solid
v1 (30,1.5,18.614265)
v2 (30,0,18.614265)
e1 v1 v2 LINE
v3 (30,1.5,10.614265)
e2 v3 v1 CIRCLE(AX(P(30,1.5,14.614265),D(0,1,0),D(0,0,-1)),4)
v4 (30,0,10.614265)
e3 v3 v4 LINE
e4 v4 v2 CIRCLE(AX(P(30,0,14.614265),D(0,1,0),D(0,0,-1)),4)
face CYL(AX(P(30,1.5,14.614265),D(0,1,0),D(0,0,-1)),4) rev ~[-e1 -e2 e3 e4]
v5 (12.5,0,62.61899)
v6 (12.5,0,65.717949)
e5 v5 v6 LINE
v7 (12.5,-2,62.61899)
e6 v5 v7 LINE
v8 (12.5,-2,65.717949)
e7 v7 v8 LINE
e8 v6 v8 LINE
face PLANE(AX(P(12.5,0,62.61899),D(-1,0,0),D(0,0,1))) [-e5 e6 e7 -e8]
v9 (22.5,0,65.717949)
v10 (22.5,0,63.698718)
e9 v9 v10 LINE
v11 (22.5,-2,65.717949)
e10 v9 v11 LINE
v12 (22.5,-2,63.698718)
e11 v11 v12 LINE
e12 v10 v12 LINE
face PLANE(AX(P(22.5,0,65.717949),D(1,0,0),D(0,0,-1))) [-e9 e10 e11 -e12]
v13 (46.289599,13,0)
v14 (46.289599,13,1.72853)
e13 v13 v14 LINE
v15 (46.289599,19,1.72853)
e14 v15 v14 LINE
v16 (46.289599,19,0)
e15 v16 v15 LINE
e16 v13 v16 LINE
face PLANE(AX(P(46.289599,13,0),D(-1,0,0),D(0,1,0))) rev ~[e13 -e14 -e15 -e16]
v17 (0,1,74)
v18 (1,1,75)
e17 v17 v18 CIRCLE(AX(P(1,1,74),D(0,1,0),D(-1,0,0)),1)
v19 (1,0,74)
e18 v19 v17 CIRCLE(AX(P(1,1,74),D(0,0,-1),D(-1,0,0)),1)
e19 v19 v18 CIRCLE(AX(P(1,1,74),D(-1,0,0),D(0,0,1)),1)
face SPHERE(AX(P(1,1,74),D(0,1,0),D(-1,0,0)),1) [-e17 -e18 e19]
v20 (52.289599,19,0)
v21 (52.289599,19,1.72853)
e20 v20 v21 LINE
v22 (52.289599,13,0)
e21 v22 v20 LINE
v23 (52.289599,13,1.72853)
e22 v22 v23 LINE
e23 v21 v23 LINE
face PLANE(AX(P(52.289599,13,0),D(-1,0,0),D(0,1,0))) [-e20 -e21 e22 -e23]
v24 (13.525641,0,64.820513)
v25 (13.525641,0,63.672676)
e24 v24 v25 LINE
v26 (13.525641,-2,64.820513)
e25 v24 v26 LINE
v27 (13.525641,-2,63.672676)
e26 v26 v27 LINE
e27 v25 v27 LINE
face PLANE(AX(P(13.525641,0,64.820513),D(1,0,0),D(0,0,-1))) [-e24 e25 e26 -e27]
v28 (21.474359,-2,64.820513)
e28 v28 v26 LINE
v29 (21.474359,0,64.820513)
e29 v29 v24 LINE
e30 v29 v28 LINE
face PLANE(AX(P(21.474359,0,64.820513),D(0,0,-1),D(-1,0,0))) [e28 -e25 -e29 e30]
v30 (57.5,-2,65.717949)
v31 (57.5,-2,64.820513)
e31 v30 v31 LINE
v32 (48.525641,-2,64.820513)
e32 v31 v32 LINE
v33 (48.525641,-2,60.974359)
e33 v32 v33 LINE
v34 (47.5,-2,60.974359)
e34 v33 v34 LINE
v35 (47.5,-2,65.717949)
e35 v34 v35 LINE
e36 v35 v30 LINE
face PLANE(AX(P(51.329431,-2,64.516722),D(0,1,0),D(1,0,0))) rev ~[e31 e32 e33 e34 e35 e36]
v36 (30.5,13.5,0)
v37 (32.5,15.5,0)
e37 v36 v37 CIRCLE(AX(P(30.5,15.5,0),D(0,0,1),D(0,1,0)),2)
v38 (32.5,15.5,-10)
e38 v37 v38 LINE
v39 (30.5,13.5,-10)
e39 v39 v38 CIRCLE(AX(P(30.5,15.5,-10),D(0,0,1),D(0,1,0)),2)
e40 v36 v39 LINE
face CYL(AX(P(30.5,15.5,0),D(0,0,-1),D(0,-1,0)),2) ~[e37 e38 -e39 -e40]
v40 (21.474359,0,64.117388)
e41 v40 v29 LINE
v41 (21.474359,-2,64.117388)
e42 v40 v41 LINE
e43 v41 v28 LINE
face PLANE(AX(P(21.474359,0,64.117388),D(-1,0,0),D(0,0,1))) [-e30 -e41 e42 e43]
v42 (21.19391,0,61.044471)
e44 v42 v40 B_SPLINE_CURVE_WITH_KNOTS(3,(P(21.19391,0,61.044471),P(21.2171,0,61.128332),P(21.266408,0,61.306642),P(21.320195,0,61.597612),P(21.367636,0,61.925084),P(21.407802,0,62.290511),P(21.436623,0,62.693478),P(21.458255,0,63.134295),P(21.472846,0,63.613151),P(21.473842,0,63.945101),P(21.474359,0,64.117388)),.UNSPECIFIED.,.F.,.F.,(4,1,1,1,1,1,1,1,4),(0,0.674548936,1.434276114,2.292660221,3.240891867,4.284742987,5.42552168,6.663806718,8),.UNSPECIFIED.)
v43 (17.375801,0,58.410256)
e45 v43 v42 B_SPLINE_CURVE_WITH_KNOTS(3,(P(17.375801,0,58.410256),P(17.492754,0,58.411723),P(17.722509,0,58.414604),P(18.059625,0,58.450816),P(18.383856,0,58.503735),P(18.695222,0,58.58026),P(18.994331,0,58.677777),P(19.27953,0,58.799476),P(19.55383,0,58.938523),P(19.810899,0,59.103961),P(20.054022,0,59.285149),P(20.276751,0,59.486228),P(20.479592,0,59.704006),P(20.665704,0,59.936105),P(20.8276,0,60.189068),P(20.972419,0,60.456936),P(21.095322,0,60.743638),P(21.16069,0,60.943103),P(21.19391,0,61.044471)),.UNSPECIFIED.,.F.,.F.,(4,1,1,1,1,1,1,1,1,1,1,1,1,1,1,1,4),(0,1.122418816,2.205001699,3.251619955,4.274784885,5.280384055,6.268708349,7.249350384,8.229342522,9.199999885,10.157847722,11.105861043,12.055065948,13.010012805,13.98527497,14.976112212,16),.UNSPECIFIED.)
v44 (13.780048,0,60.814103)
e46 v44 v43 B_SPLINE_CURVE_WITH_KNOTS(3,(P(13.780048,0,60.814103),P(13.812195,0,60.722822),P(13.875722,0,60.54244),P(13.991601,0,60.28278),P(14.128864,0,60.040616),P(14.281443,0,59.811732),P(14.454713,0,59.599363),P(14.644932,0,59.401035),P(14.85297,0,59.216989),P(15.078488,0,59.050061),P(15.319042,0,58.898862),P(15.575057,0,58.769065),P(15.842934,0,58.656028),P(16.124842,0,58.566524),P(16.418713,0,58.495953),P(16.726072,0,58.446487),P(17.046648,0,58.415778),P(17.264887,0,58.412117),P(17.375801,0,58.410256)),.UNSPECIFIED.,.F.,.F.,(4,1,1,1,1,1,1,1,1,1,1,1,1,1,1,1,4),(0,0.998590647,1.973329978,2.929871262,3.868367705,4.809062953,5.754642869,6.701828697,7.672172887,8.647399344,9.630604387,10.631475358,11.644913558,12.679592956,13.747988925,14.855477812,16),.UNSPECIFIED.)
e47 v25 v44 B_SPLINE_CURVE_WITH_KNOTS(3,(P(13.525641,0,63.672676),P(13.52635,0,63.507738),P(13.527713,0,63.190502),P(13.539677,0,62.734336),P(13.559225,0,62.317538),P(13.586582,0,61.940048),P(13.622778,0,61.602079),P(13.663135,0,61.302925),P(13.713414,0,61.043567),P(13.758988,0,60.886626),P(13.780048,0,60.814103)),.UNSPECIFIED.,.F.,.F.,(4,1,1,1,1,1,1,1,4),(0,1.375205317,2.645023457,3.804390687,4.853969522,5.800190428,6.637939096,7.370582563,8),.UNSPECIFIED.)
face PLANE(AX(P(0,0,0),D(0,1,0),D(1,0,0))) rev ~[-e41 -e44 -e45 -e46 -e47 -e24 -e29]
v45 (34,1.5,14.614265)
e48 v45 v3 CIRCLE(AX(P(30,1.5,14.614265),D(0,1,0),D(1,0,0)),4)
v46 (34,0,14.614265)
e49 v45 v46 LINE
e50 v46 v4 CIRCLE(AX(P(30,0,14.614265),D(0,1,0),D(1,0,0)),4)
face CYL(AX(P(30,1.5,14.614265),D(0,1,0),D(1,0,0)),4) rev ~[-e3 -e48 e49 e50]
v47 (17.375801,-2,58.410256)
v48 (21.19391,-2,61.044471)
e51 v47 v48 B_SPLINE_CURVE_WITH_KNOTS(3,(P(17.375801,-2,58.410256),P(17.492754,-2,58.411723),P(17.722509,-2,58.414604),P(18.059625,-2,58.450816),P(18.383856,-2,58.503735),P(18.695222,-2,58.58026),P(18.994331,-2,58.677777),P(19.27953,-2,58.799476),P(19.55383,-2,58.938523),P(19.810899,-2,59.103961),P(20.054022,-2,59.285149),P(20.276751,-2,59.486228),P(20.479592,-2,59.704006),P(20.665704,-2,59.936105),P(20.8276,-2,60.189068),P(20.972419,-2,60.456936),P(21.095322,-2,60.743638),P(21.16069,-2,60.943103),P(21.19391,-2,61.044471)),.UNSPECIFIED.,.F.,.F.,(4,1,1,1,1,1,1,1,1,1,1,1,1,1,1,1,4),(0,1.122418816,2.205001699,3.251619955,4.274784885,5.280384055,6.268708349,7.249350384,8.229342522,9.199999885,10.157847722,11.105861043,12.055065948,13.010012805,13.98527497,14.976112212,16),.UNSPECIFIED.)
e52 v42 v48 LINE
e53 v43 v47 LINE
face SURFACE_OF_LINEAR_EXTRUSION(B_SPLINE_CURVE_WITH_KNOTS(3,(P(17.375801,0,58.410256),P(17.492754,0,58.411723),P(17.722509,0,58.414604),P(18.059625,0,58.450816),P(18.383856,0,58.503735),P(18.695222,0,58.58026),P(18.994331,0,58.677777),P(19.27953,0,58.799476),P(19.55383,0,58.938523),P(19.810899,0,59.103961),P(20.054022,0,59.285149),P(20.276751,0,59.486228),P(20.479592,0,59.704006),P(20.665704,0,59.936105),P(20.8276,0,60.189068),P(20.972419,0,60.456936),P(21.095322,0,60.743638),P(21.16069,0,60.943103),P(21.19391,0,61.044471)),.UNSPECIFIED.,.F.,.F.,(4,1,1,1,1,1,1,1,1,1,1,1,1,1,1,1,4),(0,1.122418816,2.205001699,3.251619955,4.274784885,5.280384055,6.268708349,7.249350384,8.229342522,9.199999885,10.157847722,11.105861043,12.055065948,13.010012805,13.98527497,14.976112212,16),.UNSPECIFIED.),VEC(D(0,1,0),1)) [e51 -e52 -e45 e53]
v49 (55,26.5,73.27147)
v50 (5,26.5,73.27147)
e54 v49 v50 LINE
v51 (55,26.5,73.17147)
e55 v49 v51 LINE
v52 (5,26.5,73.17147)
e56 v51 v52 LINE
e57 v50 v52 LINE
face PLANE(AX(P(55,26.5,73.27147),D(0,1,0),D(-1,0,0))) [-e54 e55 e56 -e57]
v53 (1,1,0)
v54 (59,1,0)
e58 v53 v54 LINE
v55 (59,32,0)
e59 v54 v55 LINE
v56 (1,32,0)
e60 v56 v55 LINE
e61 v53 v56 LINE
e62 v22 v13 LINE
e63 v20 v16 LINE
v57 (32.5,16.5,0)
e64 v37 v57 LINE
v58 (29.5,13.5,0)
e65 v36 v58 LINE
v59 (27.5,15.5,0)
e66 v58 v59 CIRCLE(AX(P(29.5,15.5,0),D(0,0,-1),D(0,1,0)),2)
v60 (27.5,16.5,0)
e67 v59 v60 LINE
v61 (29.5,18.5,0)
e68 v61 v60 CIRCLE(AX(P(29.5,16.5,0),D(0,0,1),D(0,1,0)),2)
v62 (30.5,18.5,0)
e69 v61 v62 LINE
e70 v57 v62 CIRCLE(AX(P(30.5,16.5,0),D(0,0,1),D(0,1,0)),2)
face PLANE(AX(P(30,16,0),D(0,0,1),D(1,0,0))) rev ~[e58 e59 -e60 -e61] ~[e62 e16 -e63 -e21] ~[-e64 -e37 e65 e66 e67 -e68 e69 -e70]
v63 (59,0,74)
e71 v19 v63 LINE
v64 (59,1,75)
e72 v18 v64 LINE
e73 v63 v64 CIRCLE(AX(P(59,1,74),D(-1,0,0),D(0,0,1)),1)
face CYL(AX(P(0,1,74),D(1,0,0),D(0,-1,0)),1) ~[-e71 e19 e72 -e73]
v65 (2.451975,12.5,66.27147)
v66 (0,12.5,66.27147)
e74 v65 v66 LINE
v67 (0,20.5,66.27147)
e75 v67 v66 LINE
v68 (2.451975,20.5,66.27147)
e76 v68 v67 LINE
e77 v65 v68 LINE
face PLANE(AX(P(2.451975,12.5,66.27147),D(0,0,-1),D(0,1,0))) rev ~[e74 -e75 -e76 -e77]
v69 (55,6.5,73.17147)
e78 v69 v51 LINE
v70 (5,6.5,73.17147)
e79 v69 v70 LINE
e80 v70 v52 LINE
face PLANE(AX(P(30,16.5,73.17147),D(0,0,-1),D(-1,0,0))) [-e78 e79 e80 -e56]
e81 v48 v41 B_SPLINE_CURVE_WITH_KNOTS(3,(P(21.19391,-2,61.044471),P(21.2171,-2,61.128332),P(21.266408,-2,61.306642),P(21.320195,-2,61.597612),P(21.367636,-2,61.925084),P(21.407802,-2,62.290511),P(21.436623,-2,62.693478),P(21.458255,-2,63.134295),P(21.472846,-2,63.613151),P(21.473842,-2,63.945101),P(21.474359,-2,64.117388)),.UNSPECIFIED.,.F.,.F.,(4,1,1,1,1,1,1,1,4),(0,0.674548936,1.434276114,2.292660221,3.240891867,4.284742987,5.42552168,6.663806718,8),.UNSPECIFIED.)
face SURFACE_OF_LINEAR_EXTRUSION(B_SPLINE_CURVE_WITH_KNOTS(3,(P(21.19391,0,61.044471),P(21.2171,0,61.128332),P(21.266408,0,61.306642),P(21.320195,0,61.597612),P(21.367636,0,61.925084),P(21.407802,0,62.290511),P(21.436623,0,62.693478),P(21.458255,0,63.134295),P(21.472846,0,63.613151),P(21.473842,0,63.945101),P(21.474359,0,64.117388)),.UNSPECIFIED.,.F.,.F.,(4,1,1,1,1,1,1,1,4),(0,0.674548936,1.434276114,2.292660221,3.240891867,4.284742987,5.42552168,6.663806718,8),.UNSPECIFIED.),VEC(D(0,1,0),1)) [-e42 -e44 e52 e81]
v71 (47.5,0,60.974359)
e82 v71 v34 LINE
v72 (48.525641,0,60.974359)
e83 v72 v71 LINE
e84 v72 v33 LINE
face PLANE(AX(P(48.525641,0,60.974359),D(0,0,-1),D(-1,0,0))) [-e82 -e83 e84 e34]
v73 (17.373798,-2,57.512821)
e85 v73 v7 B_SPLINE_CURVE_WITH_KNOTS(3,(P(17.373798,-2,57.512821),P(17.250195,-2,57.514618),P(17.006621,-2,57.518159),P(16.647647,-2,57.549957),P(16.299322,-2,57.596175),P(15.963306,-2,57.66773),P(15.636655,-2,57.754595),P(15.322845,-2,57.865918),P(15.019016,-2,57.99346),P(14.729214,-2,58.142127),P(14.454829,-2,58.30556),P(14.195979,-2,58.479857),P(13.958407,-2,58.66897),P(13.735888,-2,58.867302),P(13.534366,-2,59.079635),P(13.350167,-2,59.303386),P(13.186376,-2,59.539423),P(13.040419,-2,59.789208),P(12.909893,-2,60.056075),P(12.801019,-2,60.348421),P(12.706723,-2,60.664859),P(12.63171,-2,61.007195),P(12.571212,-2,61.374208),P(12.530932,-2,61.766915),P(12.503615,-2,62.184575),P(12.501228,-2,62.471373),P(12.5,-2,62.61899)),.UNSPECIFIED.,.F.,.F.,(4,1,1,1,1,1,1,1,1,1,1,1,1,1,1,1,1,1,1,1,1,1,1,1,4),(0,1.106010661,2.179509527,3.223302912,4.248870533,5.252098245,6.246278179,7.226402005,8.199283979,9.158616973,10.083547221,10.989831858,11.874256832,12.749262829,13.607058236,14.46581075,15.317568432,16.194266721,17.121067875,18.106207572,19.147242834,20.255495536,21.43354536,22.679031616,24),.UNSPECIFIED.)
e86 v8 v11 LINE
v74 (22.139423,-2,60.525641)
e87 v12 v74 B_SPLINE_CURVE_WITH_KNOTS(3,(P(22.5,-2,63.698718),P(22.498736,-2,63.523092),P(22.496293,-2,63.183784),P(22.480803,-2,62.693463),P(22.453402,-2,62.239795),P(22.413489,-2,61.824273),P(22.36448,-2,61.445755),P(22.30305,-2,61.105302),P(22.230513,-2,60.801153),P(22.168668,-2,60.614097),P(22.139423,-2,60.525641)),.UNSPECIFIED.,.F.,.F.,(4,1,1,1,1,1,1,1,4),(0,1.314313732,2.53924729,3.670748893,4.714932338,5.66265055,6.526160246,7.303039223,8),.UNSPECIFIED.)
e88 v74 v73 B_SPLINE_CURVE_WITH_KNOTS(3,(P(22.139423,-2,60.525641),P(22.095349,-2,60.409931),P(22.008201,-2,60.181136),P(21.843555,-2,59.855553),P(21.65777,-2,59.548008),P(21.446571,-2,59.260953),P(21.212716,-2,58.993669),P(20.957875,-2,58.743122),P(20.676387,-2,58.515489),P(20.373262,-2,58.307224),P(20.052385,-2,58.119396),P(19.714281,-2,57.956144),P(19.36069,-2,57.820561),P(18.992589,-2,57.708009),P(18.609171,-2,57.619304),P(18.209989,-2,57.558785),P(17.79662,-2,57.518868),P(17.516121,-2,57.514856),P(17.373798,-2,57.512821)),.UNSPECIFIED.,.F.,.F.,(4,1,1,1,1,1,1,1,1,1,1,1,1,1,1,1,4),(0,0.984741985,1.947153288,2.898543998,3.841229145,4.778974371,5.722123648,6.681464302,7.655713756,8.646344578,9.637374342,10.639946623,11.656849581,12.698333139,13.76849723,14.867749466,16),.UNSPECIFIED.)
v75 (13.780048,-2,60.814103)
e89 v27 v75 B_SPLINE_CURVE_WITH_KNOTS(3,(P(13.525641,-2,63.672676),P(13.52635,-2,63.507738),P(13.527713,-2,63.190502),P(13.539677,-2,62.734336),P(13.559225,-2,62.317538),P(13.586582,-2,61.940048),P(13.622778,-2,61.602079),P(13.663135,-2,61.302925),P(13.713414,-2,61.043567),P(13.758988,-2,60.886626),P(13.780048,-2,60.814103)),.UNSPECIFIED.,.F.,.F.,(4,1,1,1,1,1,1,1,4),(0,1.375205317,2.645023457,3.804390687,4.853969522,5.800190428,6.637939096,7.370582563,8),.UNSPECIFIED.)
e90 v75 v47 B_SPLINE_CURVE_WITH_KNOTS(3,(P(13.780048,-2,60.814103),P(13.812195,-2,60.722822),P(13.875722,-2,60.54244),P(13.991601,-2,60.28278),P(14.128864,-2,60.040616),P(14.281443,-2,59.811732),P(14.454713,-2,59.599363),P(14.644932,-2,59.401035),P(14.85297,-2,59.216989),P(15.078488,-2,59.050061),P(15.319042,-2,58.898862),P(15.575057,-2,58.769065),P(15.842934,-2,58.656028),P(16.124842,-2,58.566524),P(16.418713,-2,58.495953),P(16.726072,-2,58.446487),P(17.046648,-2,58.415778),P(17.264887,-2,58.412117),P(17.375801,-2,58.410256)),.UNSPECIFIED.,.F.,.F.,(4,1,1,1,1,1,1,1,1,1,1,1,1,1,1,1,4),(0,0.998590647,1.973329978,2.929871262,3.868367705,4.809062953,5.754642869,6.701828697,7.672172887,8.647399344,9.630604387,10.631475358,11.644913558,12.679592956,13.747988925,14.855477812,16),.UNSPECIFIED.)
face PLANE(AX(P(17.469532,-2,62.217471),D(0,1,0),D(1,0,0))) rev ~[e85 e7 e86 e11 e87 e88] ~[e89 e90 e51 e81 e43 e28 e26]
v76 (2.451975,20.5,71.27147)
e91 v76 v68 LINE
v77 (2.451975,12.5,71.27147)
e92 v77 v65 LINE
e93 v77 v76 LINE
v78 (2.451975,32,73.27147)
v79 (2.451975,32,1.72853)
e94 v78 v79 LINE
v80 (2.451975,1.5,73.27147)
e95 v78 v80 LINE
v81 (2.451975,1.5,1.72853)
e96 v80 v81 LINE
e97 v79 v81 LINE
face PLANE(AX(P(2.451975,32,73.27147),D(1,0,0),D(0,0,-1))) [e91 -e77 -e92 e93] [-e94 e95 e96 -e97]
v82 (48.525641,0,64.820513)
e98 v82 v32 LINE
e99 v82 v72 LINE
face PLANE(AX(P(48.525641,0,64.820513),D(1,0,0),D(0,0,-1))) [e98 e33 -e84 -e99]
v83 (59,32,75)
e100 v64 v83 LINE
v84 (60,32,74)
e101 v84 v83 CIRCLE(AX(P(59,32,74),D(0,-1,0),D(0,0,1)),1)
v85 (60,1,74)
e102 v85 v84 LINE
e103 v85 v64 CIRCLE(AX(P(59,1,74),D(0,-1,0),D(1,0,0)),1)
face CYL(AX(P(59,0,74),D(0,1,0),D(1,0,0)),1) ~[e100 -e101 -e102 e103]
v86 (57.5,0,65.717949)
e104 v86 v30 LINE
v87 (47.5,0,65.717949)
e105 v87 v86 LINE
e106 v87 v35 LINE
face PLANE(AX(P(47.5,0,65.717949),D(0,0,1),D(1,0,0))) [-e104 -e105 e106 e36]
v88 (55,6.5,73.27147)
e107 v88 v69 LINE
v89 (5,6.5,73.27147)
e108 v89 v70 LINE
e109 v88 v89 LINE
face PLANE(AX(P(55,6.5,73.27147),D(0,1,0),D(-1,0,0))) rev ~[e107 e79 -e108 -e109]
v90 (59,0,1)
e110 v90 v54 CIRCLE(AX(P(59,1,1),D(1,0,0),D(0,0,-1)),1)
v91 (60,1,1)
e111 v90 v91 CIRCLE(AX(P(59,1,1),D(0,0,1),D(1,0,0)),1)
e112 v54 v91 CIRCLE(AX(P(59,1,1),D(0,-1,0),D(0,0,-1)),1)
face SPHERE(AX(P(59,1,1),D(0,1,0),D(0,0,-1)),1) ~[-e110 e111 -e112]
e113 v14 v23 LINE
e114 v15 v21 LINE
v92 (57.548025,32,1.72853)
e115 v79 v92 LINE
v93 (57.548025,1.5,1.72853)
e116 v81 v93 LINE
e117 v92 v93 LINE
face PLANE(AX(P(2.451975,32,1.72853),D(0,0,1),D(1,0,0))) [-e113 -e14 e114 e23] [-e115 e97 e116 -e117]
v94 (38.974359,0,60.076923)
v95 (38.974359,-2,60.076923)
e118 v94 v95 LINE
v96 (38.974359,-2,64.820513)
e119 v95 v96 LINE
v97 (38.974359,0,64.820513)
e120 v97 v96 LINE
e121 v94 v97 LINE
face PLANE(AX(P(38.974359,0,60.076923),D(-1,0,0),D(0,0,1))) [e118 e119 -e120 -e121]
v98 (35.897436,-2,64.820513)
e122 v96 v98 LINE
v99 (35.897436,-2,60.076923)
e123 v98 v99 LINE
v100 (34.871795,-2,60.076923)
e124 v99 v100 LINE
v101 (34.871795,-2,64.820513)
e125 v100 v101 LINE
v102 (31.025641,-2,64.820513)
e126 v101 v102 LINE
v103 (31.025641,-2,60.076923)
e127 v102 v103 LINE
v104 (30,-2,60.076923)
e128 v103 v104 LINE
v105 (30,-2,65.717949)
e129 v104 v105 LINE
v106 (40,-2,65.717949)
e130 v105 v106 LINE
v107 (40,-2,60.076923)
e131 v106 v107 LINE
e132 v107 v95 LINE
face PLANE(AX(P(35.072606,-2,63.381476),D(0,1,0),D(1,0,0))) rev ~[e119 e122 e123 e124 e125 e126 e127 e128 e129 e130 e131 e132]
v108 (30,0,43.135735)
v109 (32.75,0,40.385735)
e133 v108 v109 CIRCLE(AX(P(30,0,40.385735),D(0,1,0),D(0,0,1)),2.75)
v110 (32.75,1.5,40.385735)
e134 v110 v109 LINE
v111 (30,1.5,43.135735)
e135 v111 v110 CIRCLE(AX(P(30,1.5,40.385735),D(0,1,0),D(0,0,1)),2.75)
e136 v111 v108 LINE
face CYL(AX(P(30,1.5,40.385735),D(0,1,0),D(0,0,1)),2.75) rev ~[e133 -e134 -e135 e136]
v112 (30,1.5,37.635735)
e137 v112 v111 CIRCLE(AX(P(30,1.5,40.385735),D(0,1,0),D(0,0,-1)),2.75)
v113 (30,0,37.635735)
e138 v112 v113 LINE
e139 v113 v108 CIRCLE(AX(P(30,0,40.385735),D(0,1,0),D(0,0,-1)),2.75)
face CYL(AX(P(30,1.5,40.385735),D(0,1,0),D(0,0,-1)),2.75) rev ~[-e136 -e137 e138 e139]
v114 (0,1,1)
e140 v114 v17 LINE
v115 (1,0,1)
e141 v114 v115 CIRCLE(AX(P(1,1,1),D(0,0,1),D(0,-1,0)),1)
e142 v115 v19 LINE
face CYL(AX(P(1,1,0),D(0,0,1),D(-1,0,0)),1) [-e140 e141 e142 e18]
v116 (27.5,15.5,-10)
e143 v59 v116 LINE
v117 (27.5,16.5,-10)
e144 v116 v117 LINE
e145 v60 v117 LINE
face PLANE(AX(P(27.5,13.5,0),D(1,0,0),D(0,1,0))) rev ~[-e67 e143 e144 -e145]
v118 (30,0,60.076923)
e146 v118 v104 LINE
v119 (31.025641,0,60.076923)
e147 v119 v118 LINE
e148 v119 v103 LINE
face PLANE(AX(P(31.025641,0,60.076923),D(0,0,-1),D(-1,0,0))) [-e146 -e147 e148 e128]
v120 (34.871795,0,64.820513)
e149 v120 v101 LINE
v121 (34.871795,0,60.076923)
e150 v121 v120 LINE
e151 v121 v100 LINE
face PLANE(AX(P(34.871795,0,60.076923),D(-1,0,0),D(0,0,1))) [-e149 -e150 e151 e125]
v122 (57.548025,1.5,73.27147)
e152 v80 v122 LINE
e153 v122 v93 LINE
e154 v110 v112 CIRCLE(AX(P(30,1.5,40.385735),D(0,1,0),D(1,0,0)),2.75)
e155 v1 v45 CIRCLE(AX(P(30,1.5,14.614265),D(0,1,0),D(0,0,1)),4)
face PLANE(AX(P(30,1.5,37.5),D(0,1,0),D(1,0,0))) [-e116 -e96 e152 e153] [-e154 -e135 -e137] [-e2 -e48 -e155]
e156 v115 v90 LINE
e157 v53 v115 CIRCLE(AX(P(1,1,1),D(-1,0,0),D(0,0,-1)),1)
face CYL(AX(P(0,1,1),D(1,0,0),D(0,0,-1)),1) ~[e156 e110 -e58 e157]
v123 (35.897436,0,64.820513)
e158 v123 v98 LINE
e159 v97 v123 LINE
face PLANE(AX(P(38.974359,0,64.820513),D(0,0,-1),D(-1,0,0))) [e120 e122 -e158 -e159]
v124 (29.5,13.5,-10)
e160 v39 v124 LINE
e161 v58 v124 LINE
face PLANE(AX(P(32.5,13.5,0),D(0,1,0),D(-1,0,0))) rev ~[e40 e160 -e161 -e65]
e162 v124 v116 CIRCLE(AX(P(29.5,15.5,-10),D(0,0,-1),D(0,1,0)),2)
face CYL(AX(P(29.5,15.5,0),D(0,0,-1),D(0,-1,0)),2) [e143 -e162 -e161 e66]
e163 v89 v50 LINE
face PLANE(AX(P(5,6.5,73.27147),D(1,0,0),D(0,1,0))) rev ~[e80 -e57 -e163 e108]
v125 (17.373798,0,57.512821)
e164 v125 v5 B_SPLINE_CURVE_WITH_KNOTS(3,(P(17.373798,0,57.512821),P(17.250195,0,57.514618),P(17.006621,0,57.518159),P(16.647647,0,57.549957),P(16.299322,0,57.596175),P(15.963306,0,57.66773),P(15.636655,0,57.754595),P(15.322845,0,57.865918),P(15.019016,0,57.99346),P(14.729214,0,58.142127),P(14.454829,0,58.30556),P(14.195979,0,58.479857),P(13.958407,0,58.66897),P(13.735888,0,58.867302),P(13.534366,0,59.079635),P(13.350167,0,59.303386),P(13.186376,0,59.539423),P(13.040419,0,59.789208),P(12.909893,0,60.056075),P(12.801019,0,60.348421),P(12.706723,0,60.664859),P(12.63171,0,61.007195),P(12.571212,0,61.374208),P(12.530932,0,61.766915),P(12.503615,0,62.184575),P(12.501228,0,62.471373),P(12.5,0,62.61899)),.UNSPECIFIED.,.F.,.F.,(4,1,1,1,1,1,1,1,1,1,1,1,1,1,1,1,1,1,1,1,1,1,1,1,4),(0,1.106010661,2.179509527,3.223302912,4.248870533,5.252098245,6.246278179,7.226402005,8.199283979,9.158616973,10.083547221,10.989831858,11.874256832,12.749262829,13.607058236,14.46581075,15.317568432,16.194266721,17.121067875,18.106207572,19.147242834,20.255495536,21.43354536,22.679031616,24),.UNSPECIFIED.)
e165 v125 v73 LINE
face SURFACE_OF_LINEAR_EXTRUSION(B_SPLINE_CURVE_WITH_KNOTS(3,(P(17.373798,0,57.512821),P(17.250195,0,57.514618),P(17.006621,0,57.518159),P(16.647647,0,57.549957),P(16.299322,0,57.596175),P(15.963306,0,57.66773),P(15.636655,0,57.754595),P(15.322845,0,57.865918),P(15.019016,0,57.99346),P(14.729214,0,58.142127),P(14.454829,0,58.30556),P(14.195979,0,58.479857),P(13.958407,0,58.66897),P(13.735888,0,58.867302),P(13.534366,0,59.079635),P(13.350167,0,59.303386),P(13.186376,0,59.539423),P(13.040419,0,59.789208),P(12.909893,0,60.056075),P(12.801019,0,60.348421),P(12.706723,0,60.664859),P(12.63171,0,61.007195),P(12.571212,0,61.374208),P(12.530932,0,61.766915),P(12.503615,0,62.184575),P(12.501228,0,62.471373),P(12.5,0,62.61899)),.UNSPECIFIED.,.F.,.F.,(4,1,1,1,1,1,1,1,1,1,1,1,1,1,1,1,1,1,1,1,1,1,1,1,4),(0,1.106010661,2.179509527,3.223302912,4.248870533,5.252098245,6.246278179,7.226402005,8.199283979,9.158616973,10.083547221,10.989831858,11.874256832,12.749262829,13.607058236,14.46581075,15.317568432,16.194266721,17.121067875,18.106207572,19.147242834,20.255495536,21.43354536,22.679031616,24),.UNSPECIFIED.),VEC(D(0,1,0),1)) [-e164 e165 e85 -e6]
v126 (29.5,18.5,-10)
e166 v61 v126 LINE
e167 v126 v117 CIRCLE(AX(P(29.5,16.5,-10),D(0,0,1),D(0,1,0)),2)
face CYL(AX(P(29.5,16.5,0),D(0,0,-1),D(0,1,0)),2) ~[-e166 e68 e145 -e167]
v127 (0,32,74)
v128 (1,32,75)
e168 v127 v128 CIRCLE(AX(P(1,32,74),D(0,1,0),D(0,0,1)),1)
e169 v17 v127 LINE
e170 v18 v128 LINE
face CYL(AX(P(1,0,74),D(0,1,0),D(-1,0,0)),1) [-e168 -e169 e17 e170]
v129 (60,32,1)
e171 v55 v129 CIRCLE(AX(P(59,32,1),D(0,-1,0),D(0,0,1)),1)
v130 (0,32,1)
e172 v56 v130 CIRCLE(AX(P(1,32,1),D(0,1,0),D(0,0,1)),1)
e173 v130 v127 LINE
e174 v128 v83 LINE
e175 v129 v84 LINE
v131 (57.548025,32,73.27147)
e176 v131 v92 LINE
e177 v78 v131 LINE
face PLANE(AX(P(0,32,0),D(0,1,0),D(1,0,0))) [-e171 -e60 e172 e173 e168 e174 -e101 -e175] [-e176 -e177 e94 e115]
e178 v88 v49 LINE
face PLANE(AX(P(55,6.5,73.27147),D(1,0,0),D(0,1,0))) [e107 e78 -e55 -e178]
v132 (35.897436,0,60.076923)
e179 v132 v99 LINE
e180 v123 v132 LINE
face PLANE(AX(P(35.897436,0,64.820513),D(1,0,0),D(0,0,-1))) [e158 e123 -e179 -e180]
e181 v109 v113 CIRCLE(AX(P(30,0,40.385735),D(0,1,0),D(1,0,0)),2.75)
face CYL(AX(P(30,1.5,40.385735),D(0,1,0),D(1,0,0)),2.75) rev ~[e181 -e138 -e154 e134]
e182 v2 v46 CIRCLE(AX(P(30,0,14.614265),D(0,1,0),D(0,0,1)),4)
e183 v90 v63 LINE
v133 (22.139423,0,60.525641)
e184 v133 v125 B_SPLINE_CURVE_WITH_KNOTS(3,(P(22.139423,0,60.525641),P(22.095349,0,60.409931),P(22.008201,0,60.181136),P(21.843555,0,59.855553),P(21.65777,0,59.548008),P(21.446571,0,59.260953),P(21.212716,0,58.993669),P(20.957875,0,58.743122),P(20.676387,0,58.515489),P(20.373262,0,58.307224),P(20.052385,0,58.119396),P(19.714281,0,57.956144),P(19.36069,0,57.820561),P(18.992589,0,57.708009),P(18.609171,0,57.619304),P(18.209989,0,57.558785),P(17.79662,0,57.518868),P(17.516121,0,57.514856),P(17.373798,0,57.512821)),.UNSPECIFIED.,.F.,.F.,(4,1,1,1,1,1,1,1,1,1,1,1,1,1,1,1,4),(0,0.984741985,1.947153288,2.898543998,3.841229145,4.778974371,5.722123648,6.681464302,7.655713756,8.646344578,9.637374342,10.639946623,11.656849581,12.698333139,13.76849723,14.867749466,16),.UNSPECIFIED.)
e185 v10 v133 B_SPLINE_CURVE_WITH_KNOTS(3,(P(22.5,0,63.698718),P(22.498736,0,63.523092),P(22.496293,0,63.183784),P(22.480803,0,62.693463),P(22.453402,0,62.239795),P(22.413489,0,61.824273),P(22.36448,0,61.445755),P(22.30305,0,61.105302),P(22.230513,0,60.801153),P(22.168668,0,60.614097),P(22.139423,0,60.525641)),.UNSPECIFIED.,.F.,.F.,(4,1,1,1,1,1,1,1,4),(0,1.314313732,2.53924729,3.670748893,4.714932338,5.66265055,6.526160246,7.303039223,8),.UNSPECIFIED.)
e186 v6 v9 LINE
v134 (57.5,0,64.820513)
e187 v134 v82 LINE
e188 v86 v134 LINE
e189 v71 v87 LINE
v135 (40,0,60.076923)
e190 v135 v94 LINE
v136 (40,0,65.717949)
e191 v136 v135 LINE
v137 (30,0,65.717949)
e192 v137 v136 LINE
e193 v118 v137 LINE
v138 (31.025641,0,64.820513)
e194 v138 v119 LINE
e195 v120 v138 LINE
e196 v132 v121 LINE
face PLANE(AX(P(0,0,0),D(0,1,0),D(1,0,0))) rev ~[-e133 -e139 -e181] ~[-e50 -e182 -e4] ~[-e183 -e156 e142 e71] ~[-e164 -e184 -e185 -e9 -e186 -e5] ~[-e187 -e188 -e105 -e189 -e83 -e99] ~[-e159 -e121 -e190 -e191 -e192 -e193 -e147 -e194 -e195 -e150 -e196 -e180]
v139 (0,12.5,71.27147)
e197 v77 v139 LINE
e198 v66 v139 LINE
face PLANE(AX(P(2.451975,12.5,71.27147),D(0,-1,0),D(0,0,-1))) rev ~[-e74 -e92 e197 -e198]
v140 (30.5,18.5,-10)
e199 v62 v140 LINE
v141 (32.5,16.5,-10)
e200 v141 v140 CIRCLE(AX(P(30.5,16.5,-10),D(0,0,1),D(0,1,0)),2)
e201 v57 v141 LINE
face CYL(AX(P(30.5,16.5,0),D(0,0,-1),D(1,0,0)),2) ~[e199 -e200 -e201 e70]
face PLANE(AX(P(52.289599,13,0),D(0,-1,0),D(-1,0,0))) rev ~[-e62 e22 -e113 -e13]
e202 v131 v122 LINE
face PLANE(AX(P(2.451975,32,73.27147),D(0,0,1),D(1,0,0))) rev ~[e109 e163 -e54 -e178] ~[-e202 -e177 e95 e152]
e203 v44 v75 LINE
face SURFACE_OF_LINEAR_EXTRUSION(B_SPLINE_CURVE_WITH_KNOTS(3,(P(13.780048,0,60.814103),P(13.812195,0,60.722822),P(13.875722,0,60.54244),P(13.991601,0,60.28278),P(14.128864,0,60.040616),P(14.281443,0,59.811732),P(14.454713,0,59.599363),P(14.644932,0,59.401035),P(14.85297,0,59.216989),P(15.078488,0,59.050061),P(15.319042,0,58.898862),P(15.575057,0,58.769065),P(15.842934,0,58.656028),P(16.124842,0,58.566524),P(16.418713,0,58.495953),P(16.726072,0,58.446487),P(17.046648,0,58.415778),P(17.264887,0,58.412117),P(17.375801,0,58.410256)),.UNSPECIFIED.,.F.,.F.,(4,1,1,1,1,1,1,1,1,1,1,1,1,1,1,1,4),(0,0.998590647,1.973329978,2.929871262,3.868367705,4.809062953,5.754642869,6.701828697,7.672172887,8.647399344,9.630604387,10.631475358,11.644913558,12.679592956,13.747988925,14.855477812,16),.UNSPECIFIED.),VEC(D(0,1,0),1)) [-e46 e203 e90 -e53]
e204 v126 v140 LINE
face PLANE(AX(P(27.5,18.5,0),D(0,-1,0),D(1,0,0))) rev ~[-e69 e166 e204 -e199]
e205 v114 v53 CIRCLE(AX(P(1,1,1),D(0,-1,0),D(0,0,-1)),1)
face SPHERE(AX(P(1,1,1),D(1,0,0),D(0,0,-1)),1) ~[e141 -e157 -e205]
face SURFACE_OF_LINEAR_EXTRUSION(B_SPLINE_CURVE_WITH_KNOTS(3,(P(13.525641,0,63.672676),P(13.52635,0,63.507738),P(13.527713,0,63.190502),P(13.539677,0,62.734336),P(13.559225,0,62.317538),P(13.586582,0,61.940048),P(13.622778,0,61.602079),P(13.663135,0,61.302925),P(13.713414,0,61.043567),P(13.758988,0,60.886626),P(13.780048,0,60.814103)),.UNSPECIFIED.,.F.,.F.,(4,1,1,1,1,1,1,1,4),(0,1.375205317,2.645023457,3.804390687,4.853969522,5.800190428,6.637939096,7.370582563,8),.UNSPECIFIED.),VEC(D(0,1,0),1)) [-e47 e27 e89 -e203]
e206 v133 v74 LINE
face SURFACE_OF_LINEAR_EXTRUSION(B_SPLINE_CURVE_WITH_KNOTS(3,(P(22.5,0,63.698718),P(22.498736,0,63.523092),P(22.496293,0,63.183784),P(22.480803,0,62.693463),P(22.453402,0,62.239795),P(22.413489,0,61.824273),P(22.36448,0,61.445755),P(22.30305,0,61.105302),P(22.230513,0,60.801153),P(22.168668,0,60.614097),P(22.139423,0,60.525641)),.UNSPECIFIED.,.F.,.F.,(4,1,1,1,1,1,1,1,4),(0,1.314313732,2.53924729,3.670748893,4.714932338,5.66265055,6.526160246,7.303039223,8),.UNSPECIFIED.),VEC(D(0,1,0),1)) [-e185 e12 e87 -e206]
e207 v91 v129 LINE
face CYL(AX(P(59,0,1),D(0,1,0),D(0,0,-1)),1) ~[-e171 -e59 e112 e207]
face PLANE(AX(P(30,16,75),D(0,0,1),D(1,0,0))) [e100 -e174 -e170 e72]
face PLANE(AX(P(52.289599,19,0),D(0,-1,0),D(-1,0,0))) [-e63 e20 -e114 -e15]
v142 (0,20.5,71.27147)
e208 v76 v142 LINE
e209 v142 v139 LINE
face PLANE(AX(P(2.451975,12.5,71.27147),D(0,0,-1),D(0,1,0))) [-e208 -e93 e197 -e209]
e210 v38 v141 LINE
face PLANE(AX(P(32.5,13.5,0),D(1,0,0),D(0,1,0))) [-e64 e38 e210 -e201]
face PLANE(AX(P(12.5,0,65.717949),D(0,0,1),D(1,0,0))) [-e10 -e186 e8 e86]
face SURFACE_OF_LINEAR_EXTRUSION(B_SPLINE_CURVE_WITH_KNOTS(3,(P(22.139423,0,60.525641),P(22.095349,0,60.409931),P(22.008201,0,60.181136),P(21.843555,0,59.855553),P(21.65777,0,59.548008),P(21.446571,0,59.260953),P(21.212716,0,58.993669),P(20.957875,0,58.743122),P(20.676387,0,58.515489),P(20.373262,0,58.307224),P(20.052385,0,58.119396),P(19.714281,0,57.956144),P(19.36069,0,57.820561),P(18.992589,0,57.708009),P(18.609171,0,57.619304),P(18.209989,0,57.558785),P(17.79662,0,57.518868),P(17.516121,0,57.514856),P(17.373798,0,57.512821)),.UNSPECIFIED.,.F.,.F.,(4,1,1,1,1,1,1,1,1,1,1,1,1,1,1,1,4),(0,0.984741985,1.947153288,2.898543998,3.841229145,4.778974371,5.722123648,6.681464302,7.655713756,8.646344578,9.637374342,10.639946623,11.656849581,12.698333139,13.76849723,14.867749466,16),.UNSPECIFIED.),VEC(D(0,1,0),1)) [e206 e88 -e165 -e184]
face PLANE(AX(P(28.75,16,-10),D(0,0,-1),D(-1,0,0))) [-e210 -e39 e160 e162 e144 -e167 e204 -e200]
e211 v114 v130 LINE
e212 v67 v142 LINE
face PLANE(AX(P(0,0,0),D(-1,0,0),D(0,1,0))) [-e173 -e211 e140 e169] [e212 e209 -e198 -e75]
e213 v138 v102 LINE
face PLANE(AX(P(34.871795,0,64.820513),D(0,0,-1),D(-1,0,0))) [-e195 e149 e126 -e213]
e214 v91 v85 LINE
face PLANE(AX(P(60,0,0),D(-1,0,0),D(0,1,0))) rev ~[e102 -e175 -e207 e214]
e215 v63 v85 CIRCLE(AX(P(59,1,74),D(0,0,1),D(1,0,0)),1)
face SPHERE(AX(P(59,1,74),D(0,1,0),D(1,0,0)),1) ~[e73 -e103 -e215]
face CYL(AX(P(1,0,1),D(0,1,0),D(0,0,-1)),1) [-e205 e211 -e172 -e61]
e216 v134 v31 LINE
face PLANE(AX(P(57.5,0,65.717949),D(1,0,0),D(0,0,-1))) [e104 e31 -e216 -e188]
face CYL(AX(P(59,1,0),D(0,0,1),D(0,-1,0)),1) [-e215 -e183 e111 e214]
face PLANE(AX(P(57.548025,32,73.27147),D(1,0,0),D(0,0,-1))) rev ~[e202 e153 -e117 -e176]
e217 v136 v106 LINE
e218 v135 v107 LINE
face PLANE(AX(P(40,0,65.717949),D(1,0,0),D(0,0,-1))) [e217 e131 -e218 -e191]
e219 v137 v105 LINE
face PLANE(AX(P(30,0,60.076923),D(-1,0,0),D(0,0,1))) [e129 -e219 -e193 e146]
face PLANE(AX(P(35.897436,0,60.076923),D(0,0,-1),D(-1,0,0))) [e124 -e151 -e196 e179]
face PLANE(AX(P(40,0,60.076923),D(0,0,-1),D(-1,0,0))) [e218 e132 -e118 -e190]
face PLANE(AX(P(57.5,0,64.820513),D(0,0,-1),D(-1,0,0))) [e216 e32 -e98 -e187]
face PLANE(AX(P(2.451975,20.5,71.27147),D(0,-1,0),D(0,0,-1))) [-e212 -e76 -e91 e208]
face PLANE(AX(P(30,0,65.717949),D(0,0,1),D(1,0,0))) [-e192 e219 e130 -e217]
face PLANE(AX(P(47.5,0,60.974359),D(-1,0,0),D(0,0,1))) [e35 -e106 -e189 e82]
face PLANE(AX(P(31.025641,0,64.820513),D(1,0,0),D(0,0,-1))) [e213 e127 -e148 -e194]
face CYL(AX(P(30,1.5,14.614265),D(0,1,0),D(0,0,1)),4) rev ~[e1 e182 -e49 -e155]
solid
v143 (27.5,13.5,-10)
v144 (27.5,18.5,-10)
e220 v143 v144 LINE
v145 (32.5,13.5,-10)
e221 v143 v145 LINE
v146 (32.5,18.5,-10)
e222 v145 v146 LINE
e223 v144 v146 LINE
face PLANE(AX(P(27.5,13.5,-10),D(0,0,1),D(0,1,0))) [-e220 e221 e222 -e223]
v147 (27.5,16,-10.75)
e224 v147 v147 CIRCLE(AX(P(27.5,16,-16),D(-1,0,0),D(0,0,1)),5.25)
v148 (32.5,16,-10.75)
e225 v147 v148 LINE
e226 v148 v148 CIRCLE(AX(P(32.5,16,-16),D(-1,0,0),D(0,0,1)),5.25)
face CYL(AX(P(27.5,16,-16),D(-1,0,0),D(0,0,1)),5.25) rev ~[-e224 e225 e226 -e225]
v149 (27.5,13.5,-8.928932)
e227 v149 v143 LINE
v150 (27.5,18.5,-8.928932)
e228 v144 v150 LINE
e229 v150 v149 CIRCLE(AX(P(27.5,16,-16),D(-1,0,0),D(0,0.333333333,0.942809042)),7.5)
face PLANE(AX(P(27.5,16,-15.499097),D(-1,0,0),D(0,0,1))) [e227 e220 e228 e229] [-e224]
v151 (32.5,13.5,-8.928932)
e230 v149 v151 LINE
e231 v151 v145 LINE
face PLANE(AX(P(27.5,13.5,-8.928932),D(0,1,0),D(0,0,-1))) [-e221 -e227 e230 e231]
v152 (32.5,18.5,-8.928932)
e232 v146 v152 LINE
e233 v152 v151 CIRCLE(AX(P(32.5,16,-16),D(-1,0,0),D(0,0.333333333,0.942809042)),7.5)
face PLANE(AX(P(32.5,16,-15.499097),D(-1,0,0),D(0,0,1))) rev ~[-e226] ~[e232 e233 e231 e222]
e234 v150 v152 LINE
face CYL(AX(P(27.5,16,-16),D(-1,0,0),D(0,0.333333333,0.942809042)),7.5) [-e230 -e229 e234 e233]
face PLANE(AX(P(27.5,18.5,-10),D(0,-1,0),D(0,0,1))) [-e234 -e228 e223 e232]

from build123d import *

# Parameters (mm, degrees)
SKETCH1_W           = 60
SKETCH1_H           = 32
BOSS_EXTRUDE1_DEPTH = 75
SKETCH2_W           = 55.096049088
SKETCH2_H           = 71.542939766
CUT_EXTRUDE1_DEPTH  = 30.5
SKETCH3_W           = 2.5
SKETCH3_H           = 5
BOSS_EXTRUDE2_DEPTH = 10
SKETCH4_R           = 5.25
BOSS_EXTRUDE3_DEPTH = 5
SKETCH8_W           = 50
SKETCH8_H           = 20
BOSS_EXTRUDE5_DEPTH = 0.1
CUT_EXTRUDE2_DEPTH  = 20
SKETCH10_W          = 5
SKETCH10_H          = 8
CUT_EXTRUDE3_DEPTH  = 20
FILLET2_R           = 2
FILLET4_R           = 1
SKETCH11_W          = 6
SKETCH11_H          = 6
CUT_EXTRUDE4_DEPTH  = 10
BOSS_EXTRUDE6_DEPTH = 2


with BuildPart() as part:
    # Sketch1 → Boss-Extrude1 (new body)
    with BuildSketch(Plane.XY):
        with Locations((30, 16)):
            Rectangle(SKETCH1_W, SKETCH1_H)
    extrude(amount=BOSS_EXTRUDE1_DEPTH)

    # Sketch2 → Cut-Extrude1 (cut)
    with BuildSketch(Plane(origin=(0, 32, 0), x_dir=(1, 0, 0), z_dir=(0, 1, 0))):
        with Locations((30, -37.5)):
            Rectangle(SKETCH2_W, SKETCH2_H)
    extrude(amount=-CUT_EXTRUDE1_DEPTH, mode=Mode.SUBTRACT)

    # Sketch3 → Boss-Extrude2 (add)
    with BuildSketch(Plane(origin=(0, 0, 0), x_dir=(-1, 0, 0), z_dir=(0, 0, -1))):
        with Locations((-28.75, 16)):
            Rectangle(SKETCH3_W, SKETCH3_H)
        with Locations((-31.25, 16)):
            Rectangle(SKETCH3_W, SKETCH3_H)
    extrude(amount=BOSS_EXTRUDE2_DEPTH)

    # Sketch8 → Boss-Extrude5 (add)
    with BuildSketch(Plane(origin=(0, 0, 73.271469883), x_dir=(-1, 0, 0), z_dir=(0, 0, -1))):
        with Locations((-30, 16.5)):
            Rectangle(SKETCH8_W, SKETCH8_H)
    extrude(amount=BOSS_EXTRUDE5_DEPTH)

    # Sketch9 → Cut-Extrude2 (cut)
    with BuildSketch(Plane(origin=(0, 1.5, 0), x_dir=(1, 0, 0), z_dir=(0, 1, 0))):
        with BuildLine():
            ThreePointArc((30, -37.635734942), (27.25, -40.385734942), (30, -43.135734942))
            Line((30, -43.135734942), (30, -37.635734942))
        make_face()
        with BuildLine():
            Line((30, -37.635734942), (30, -43.135734942))
            ThreePointArc((30, -43.135734942), (31.944543648, -42.33027859), (32.75, -40.385734942))
            ThreePointArc((32.75, -40.385734942), (31.944543648, -38.441191293), (30, -37.635734942))
        make_face()
        with BuildLine():
            ThreePointArc((30, -10.614265058), (26, -14.614265058), (30, -18.614265058))
            Line((30, -18.614265058), (30, -10.614265058))
        make_face()
        with BuildLine():
            Line((30, -10.614265058), (30, -18.614265058))
            ThreePointArc((30, -18.614265058), (32.828427125, -17.442692183), (34, -14.614265058))
            ThreePointArc((34, -14.614265058), (32.828427125, -11.785837934), (30, -10.614265058))
        make_face()
    extrude(amount=-CUT_EXTRUDE2_DEPTH, mode=Mode.SUBTRACT)

    # Sketch10 → Cut-Extrude3 (cut)
    with BuildSketch(Plane(origin=(2.451975456, 0, 0), x_dir=(0, 0, -1), z_dir=(1, 0, 0))):
        with Locations((-68.771469883, 16.5)):
            Rectangle(SKETCH10_W, SKETCH10_H)
    extrude(amount=-CUT_EXTRUDE3_DEPTH, mode=Mode.SUBTRACT)

    # Fillet2
    fillet2_edges = [part.edges().sort_by_distance(p)[0] for p in [
        (32.5, 13.5, -5),
        (27.5, 13.5, -5),
        (27.5, 18.5, -5),
        (32.5, 18.5, -5),
    ]]
    fillet(fillet2_edges, radius=FILLET2_R)

    # Fillet4
    fillet4_edges = [part.edges().sort_by_distance(p)[0] for p in [
        (60, 16, 75),
        (0, 16, 75),
        (60, 16, 0),
        (30, 0, 0),
        (0, 16, 0),
        (60, 0, 37.5),
        (0, 0, 37.5),
        (30, 0, 75),
    ]]
    fillet(fillet4_edges, radius=FILLET4_R)

    # Sketch11 → Cut-Extrude4 (cut)
    with BuildSketch(Plane(origin=(0, 0, 0), x_dir=(-1, 0, 0), z_dir=(0, 0, -1))):
        with Locations((-49.289598549, 16)):
            Rectangle(SKETCH11_W, SKETCH11_H)
    extrude(amount=-CUT_EXTRUDE4_DEPTH, mode=Mode.SUBTRACT)

    # Sketch12 → Boss-Extrude6 (add)
    # profile 1 of 3: a face of its own
    with BuildSketch(Plane(origin=(0, 0, 0), x_dir=(-1, 0, 0), z_dir=(0, -1, 0))):
        Polygon((-57.5, -65.717948718), (-57.5, -64.820512821), (-48.525641026, -64.820512821), (-48.525641026, -60.974358974), (-47.5, -60.974358974), (-47.5, -65.717948718), align=None)
    # profile 2 of 3: a face of its own
    with BuildSketch(Plane(origin=(0, 0, 0), x_dir=(-1, 0, 0), z_dir=(0, -1, 0))):
        Polygon((-40, -65.717948718), (-40, -60.076923077), (-38.974358974, -60.076923077), (-38.974358974, -64.820512821), (-35.897435897, -64.820512821), (-35.897435897, -60.076923077), (-34.871794872, -60.076923077), (-34.871794872, -64.820512821), (-31.025641026, -64.820512821), (-31.025641026, -60.076923077), (-30, -60.076923077), (-30, -65.717948718), align=None)
    # profile 3 of 3: a face of its own
    with BuildSketch(Plane(origin=(0, 0, 0), x_dir=(-1, 0, 0), z_dir=(0, -1, 0))):
        with BuildLine():
            Line((-12.5, -65.717948718), (-22.5, -65.717948718))
            Line((-22.5, -65.717948718), (-22.5, -63.698717949))
            add(Edge.make_bspline(
                [(-22.5, -63.698717949), (-22.498735514, -63.523092268), (-22.496292535, -63.183784367), (-22.480802846, -62.693463089), (-22.453401515, -62.239795196), (-22.413488583, -61.824272742), (-22.364479915, -61.445754993), (-22.303050189, -61.105301827), (-22.230512559, -60.801152847), (-22.168668415, -60.614097303), (-22.139423077, -60.525641026)],
                knots=[0, 0, 0, 0, 1.314313732, 2.53924729, 3.670748893, 4.714932338, 5.66265055, 6.526160246, 7.303039223, 8, 8, 8, 8], degree=3))
            add(Edge.make_bspline(
                [(-22.139423077, -60.525641026), (-22.095349076, -60.40993135), (-22.008200527, -60.181135911), (-21.843554638, -59.855552544), (-21.657769926, -59.548007707), (-21.446570967, -59.260953421), (-21.212715665, -58.993669435), (-20.957874681, -58.743122156), (-20.67638683, -58.515488829), (-20.373262431, -58.307224063), (-20.052385359, -58.119395673), (-19.71428113, -57.956144238), (-19.360690172, -57.820560503), (-18.992589457, -57.708008673), (-18.609171316, -57.61930444), (-18.209988819, -57.558784654), (-17.796619712, -57.518867535), (-17.516121244, -57.514855961), (-17.373798077, -57.512820513)],
                knots=[0, 0, 0, 0, 0.984741985, 1.947153288, 2.898543998, 3.841229145, 4.778974371, 5.722123648, 6.681464302, 7.655713756, 8.646344578, 9.637374342, 10.639946623, 11.656849581, 12.698333139, 13.76849723, 14.867749466, 16, 16, 16, 16], degree=3))
            add(Edge.make_bspline(
                [(-17.373798077, -57.512820513), (-17.25019454, -57.514617564), (-17.006620859, -57.518158841), (-16.647646855, -57.549956867), (-16.299322425, -57.596174997), (-15.963305925, -57.667729584), (-15.636654651, -57.754594866), (-15.32284539, -57.8659175), (-15.019016377, -57.993460367), (-14.729213759, -58.142126946), (-14.454829341, -58.305560099), (-14.195979143, -58.479856653), (-13.958407138, -58.66896952), (-13.735887862, -58.867301532), (-13.534365667, -59.079635436), (-13.350167074, -59.3033861), (-13.186375966, -59.539423077), (-13.040418525, -59.789207505), (-12.909892823, -60.056075317), (-12.801018728, -60.348420856), (-12.706722647, -60.664859341), (-12.631710109, -61.00719534), (-12.57121196, -61.374207846), (-12.530932059, -61.766914959), (-12.503614678, -62.184574518), (-12.501228288, -62.47137341), (-12.5, -62.618990385)],
                knots=[0, 0, 0, 0, 1.106010661, 2.179509527, 3.223302912, 4.248870533, 5.252098245, 6.246278179, 7.226402005, 8.199283979, 9.158616973, 10.083547221, 10.989831858, 11.874256832, 12.749262829, 13.607058236, 14.46581075, 15.317568432, 16.194266721, 17.121067875, 18.106207572, 19.147242834, 20.255495536, 21.43354536, 22.679031616, 24, 24, 24, 24], degree=3))
            Line((-12.5, -62.618990385), (-12.5, -65.717948718))
        make_face()
        with BuildLine():
            Line((-13.525641026, -64.820512821), (-13.525641026, -63.672676282))
            add(Edge.make_bspline(
                [(-13.525641026, -63.672676282), (-13.526349872, -63.50773808), (-13.527713244, -63.190501513), (-13.539676682, -62.734335807), (-13.559225075, -62.317537531), (-13.58658244, -61.940047504), (-13.622778483, -61.602078863), (-13.663135348, -61.302925292), (-13.713413779, -61.043567411), (-13.758987949, -60.886626163), (-13.780048077, -60.814102564)],
                knots=[0, 0, 0, 0, 1.375205317, 2.645023457, 3.804390687, 4.853969522, 5.800190428, 6.637939096, 7.370582563, 8, 8, 8, 8], degree=3))
            add(Edge.make_bspline(
                [(-13.780048077, -60.814102564), (-13.81219538, -60.72282152), (-13.875722149, -60.542439678), (-13.991601268, -60.282779572), (-14.128864005, -60.040616196), (-14.281443099, -59.811732258), (-14.454713028, -59.599363483), (-14.644932236, -59.401034788), (-14.852969787, -59.216988985), (-15.078488342, -59.050060878), (-15.319042421, -58.898862431), (-15.575057466, -58.769064907), (-15.842934289, -58.656028267), (-16.124841506, -58.566523719), (-16.418712888, -58.495953304), (-16.726072283, -58.446487389), (-17.046647714, -58.415778201), (-17.264887143, -58.412117076), (-17.375801282, -58.41025641)],
                knots=[0, 0, 0, 0, 0.998590647, 1.973329978, 2.929871262, 3.868367705, 4.809062953, 5.754642869, 6.701828697, 7.672172887, 8.647399344, 9.630604387, 10.631475358, 11.644913558, 12.679592956, 13.747988925, 14.855477812, 16, 16, 16, 16], degree=3))
            add(Edge.make_bspline(
                [(-17.375801282, -58.41025641), (-17.492754083, -58.411722946), (-17.722508895, -58.414603967), (-18.059625168, -58.450816283), (-18.383855598, -58.503735013), (-18.69522187, -58.58025983), (-18.994331448, -58.677776627), (-19.279530048, -58.799475603), (-19.553829674, -58.938523087), (-19.81089929, -59.103961192), (-20.054022459, -59.285148602), (-20.276750789, -59.486228257), (-20.479591647, -59.70400551), (-20.665703969, -59.93610508), (-20.827600186, -60.18906822), (-20.972419275, -60.456935908), (-21.095321821, -60.743637826), (-21.160690001, -60.943102671), (-21.193910256, -61.044471154)],
                knots=[0, 0, 0, 0, 1.122418816, 2.205001699, 3.251619955, 4.274784885, 5.280384055, 6.268708349, 7.249350384, 8.229342522, 9.199999885, 10.157847722, 11.105861043, 12.055065948, 13.010012805, 13.98527497, 14.976112212, 16, 16, 16, 16], degree=3))
            add(Edge.make_bspline(
                [(-21.193910256, -61.044471154), (-21.21710005, -61.128331572), (-21.266407915, -61.30664183), (-21.320194693, -61.597611727), (-21.367636119, -61.925083583), (-21.407801946, -62.2905113), (-21.436622864, -62.693478326), (-21.458255191, -63.134294578), (-21.47284557, -63.613150591), (-21.473841876, -63.945100687), (-21.474358974, -64.117387821)],
                knots=[0, 0, 0, 0, 0.674548936, 1.434276114, 2.292660221, 3.240891867, 4.284742987, 5.42552168, 6.663806718, 8, 8, 8, 8], degree=3))
            Line((-21.474358974, -64.117387821), (-21.474358974, -64.820512821))
            Line((-21.474358974, -64.820512821), (-13.525641026, -64.820512821))
        make_face(mode=Mode.SUBTRACT)
    extrude(amount=BOSS_EXTRUDE6_DEPTH)


with BuildPart() as body_2:
    # Sketch4 → Boss-Extrude3 (new body)
    with BuildSketch(Plane.ZY.offset(-27.5)):
        with BuildLine():
            Line((-10, 13.5), (-10, 16))
            Line((-10, 16), (-10, 18.5))
            Line((-10, 18.5), (-8.928932188, 18.5))
            ThreePointArc((-8.928932188, 18.5), (-23.5, 16), (-8.928932188, 13.5))
            Line((-8.928932188, 13.5), (-10, 13.5))
        make_face()
        with Locations((-16, 16)):
            Circle(SKETCH4_R, mode=Mode.SUBTRACT)
    extrude(amount=-BOSS_EXTRUDE3_DEPTH)


solid = Compound([part.part, body_2.part])
